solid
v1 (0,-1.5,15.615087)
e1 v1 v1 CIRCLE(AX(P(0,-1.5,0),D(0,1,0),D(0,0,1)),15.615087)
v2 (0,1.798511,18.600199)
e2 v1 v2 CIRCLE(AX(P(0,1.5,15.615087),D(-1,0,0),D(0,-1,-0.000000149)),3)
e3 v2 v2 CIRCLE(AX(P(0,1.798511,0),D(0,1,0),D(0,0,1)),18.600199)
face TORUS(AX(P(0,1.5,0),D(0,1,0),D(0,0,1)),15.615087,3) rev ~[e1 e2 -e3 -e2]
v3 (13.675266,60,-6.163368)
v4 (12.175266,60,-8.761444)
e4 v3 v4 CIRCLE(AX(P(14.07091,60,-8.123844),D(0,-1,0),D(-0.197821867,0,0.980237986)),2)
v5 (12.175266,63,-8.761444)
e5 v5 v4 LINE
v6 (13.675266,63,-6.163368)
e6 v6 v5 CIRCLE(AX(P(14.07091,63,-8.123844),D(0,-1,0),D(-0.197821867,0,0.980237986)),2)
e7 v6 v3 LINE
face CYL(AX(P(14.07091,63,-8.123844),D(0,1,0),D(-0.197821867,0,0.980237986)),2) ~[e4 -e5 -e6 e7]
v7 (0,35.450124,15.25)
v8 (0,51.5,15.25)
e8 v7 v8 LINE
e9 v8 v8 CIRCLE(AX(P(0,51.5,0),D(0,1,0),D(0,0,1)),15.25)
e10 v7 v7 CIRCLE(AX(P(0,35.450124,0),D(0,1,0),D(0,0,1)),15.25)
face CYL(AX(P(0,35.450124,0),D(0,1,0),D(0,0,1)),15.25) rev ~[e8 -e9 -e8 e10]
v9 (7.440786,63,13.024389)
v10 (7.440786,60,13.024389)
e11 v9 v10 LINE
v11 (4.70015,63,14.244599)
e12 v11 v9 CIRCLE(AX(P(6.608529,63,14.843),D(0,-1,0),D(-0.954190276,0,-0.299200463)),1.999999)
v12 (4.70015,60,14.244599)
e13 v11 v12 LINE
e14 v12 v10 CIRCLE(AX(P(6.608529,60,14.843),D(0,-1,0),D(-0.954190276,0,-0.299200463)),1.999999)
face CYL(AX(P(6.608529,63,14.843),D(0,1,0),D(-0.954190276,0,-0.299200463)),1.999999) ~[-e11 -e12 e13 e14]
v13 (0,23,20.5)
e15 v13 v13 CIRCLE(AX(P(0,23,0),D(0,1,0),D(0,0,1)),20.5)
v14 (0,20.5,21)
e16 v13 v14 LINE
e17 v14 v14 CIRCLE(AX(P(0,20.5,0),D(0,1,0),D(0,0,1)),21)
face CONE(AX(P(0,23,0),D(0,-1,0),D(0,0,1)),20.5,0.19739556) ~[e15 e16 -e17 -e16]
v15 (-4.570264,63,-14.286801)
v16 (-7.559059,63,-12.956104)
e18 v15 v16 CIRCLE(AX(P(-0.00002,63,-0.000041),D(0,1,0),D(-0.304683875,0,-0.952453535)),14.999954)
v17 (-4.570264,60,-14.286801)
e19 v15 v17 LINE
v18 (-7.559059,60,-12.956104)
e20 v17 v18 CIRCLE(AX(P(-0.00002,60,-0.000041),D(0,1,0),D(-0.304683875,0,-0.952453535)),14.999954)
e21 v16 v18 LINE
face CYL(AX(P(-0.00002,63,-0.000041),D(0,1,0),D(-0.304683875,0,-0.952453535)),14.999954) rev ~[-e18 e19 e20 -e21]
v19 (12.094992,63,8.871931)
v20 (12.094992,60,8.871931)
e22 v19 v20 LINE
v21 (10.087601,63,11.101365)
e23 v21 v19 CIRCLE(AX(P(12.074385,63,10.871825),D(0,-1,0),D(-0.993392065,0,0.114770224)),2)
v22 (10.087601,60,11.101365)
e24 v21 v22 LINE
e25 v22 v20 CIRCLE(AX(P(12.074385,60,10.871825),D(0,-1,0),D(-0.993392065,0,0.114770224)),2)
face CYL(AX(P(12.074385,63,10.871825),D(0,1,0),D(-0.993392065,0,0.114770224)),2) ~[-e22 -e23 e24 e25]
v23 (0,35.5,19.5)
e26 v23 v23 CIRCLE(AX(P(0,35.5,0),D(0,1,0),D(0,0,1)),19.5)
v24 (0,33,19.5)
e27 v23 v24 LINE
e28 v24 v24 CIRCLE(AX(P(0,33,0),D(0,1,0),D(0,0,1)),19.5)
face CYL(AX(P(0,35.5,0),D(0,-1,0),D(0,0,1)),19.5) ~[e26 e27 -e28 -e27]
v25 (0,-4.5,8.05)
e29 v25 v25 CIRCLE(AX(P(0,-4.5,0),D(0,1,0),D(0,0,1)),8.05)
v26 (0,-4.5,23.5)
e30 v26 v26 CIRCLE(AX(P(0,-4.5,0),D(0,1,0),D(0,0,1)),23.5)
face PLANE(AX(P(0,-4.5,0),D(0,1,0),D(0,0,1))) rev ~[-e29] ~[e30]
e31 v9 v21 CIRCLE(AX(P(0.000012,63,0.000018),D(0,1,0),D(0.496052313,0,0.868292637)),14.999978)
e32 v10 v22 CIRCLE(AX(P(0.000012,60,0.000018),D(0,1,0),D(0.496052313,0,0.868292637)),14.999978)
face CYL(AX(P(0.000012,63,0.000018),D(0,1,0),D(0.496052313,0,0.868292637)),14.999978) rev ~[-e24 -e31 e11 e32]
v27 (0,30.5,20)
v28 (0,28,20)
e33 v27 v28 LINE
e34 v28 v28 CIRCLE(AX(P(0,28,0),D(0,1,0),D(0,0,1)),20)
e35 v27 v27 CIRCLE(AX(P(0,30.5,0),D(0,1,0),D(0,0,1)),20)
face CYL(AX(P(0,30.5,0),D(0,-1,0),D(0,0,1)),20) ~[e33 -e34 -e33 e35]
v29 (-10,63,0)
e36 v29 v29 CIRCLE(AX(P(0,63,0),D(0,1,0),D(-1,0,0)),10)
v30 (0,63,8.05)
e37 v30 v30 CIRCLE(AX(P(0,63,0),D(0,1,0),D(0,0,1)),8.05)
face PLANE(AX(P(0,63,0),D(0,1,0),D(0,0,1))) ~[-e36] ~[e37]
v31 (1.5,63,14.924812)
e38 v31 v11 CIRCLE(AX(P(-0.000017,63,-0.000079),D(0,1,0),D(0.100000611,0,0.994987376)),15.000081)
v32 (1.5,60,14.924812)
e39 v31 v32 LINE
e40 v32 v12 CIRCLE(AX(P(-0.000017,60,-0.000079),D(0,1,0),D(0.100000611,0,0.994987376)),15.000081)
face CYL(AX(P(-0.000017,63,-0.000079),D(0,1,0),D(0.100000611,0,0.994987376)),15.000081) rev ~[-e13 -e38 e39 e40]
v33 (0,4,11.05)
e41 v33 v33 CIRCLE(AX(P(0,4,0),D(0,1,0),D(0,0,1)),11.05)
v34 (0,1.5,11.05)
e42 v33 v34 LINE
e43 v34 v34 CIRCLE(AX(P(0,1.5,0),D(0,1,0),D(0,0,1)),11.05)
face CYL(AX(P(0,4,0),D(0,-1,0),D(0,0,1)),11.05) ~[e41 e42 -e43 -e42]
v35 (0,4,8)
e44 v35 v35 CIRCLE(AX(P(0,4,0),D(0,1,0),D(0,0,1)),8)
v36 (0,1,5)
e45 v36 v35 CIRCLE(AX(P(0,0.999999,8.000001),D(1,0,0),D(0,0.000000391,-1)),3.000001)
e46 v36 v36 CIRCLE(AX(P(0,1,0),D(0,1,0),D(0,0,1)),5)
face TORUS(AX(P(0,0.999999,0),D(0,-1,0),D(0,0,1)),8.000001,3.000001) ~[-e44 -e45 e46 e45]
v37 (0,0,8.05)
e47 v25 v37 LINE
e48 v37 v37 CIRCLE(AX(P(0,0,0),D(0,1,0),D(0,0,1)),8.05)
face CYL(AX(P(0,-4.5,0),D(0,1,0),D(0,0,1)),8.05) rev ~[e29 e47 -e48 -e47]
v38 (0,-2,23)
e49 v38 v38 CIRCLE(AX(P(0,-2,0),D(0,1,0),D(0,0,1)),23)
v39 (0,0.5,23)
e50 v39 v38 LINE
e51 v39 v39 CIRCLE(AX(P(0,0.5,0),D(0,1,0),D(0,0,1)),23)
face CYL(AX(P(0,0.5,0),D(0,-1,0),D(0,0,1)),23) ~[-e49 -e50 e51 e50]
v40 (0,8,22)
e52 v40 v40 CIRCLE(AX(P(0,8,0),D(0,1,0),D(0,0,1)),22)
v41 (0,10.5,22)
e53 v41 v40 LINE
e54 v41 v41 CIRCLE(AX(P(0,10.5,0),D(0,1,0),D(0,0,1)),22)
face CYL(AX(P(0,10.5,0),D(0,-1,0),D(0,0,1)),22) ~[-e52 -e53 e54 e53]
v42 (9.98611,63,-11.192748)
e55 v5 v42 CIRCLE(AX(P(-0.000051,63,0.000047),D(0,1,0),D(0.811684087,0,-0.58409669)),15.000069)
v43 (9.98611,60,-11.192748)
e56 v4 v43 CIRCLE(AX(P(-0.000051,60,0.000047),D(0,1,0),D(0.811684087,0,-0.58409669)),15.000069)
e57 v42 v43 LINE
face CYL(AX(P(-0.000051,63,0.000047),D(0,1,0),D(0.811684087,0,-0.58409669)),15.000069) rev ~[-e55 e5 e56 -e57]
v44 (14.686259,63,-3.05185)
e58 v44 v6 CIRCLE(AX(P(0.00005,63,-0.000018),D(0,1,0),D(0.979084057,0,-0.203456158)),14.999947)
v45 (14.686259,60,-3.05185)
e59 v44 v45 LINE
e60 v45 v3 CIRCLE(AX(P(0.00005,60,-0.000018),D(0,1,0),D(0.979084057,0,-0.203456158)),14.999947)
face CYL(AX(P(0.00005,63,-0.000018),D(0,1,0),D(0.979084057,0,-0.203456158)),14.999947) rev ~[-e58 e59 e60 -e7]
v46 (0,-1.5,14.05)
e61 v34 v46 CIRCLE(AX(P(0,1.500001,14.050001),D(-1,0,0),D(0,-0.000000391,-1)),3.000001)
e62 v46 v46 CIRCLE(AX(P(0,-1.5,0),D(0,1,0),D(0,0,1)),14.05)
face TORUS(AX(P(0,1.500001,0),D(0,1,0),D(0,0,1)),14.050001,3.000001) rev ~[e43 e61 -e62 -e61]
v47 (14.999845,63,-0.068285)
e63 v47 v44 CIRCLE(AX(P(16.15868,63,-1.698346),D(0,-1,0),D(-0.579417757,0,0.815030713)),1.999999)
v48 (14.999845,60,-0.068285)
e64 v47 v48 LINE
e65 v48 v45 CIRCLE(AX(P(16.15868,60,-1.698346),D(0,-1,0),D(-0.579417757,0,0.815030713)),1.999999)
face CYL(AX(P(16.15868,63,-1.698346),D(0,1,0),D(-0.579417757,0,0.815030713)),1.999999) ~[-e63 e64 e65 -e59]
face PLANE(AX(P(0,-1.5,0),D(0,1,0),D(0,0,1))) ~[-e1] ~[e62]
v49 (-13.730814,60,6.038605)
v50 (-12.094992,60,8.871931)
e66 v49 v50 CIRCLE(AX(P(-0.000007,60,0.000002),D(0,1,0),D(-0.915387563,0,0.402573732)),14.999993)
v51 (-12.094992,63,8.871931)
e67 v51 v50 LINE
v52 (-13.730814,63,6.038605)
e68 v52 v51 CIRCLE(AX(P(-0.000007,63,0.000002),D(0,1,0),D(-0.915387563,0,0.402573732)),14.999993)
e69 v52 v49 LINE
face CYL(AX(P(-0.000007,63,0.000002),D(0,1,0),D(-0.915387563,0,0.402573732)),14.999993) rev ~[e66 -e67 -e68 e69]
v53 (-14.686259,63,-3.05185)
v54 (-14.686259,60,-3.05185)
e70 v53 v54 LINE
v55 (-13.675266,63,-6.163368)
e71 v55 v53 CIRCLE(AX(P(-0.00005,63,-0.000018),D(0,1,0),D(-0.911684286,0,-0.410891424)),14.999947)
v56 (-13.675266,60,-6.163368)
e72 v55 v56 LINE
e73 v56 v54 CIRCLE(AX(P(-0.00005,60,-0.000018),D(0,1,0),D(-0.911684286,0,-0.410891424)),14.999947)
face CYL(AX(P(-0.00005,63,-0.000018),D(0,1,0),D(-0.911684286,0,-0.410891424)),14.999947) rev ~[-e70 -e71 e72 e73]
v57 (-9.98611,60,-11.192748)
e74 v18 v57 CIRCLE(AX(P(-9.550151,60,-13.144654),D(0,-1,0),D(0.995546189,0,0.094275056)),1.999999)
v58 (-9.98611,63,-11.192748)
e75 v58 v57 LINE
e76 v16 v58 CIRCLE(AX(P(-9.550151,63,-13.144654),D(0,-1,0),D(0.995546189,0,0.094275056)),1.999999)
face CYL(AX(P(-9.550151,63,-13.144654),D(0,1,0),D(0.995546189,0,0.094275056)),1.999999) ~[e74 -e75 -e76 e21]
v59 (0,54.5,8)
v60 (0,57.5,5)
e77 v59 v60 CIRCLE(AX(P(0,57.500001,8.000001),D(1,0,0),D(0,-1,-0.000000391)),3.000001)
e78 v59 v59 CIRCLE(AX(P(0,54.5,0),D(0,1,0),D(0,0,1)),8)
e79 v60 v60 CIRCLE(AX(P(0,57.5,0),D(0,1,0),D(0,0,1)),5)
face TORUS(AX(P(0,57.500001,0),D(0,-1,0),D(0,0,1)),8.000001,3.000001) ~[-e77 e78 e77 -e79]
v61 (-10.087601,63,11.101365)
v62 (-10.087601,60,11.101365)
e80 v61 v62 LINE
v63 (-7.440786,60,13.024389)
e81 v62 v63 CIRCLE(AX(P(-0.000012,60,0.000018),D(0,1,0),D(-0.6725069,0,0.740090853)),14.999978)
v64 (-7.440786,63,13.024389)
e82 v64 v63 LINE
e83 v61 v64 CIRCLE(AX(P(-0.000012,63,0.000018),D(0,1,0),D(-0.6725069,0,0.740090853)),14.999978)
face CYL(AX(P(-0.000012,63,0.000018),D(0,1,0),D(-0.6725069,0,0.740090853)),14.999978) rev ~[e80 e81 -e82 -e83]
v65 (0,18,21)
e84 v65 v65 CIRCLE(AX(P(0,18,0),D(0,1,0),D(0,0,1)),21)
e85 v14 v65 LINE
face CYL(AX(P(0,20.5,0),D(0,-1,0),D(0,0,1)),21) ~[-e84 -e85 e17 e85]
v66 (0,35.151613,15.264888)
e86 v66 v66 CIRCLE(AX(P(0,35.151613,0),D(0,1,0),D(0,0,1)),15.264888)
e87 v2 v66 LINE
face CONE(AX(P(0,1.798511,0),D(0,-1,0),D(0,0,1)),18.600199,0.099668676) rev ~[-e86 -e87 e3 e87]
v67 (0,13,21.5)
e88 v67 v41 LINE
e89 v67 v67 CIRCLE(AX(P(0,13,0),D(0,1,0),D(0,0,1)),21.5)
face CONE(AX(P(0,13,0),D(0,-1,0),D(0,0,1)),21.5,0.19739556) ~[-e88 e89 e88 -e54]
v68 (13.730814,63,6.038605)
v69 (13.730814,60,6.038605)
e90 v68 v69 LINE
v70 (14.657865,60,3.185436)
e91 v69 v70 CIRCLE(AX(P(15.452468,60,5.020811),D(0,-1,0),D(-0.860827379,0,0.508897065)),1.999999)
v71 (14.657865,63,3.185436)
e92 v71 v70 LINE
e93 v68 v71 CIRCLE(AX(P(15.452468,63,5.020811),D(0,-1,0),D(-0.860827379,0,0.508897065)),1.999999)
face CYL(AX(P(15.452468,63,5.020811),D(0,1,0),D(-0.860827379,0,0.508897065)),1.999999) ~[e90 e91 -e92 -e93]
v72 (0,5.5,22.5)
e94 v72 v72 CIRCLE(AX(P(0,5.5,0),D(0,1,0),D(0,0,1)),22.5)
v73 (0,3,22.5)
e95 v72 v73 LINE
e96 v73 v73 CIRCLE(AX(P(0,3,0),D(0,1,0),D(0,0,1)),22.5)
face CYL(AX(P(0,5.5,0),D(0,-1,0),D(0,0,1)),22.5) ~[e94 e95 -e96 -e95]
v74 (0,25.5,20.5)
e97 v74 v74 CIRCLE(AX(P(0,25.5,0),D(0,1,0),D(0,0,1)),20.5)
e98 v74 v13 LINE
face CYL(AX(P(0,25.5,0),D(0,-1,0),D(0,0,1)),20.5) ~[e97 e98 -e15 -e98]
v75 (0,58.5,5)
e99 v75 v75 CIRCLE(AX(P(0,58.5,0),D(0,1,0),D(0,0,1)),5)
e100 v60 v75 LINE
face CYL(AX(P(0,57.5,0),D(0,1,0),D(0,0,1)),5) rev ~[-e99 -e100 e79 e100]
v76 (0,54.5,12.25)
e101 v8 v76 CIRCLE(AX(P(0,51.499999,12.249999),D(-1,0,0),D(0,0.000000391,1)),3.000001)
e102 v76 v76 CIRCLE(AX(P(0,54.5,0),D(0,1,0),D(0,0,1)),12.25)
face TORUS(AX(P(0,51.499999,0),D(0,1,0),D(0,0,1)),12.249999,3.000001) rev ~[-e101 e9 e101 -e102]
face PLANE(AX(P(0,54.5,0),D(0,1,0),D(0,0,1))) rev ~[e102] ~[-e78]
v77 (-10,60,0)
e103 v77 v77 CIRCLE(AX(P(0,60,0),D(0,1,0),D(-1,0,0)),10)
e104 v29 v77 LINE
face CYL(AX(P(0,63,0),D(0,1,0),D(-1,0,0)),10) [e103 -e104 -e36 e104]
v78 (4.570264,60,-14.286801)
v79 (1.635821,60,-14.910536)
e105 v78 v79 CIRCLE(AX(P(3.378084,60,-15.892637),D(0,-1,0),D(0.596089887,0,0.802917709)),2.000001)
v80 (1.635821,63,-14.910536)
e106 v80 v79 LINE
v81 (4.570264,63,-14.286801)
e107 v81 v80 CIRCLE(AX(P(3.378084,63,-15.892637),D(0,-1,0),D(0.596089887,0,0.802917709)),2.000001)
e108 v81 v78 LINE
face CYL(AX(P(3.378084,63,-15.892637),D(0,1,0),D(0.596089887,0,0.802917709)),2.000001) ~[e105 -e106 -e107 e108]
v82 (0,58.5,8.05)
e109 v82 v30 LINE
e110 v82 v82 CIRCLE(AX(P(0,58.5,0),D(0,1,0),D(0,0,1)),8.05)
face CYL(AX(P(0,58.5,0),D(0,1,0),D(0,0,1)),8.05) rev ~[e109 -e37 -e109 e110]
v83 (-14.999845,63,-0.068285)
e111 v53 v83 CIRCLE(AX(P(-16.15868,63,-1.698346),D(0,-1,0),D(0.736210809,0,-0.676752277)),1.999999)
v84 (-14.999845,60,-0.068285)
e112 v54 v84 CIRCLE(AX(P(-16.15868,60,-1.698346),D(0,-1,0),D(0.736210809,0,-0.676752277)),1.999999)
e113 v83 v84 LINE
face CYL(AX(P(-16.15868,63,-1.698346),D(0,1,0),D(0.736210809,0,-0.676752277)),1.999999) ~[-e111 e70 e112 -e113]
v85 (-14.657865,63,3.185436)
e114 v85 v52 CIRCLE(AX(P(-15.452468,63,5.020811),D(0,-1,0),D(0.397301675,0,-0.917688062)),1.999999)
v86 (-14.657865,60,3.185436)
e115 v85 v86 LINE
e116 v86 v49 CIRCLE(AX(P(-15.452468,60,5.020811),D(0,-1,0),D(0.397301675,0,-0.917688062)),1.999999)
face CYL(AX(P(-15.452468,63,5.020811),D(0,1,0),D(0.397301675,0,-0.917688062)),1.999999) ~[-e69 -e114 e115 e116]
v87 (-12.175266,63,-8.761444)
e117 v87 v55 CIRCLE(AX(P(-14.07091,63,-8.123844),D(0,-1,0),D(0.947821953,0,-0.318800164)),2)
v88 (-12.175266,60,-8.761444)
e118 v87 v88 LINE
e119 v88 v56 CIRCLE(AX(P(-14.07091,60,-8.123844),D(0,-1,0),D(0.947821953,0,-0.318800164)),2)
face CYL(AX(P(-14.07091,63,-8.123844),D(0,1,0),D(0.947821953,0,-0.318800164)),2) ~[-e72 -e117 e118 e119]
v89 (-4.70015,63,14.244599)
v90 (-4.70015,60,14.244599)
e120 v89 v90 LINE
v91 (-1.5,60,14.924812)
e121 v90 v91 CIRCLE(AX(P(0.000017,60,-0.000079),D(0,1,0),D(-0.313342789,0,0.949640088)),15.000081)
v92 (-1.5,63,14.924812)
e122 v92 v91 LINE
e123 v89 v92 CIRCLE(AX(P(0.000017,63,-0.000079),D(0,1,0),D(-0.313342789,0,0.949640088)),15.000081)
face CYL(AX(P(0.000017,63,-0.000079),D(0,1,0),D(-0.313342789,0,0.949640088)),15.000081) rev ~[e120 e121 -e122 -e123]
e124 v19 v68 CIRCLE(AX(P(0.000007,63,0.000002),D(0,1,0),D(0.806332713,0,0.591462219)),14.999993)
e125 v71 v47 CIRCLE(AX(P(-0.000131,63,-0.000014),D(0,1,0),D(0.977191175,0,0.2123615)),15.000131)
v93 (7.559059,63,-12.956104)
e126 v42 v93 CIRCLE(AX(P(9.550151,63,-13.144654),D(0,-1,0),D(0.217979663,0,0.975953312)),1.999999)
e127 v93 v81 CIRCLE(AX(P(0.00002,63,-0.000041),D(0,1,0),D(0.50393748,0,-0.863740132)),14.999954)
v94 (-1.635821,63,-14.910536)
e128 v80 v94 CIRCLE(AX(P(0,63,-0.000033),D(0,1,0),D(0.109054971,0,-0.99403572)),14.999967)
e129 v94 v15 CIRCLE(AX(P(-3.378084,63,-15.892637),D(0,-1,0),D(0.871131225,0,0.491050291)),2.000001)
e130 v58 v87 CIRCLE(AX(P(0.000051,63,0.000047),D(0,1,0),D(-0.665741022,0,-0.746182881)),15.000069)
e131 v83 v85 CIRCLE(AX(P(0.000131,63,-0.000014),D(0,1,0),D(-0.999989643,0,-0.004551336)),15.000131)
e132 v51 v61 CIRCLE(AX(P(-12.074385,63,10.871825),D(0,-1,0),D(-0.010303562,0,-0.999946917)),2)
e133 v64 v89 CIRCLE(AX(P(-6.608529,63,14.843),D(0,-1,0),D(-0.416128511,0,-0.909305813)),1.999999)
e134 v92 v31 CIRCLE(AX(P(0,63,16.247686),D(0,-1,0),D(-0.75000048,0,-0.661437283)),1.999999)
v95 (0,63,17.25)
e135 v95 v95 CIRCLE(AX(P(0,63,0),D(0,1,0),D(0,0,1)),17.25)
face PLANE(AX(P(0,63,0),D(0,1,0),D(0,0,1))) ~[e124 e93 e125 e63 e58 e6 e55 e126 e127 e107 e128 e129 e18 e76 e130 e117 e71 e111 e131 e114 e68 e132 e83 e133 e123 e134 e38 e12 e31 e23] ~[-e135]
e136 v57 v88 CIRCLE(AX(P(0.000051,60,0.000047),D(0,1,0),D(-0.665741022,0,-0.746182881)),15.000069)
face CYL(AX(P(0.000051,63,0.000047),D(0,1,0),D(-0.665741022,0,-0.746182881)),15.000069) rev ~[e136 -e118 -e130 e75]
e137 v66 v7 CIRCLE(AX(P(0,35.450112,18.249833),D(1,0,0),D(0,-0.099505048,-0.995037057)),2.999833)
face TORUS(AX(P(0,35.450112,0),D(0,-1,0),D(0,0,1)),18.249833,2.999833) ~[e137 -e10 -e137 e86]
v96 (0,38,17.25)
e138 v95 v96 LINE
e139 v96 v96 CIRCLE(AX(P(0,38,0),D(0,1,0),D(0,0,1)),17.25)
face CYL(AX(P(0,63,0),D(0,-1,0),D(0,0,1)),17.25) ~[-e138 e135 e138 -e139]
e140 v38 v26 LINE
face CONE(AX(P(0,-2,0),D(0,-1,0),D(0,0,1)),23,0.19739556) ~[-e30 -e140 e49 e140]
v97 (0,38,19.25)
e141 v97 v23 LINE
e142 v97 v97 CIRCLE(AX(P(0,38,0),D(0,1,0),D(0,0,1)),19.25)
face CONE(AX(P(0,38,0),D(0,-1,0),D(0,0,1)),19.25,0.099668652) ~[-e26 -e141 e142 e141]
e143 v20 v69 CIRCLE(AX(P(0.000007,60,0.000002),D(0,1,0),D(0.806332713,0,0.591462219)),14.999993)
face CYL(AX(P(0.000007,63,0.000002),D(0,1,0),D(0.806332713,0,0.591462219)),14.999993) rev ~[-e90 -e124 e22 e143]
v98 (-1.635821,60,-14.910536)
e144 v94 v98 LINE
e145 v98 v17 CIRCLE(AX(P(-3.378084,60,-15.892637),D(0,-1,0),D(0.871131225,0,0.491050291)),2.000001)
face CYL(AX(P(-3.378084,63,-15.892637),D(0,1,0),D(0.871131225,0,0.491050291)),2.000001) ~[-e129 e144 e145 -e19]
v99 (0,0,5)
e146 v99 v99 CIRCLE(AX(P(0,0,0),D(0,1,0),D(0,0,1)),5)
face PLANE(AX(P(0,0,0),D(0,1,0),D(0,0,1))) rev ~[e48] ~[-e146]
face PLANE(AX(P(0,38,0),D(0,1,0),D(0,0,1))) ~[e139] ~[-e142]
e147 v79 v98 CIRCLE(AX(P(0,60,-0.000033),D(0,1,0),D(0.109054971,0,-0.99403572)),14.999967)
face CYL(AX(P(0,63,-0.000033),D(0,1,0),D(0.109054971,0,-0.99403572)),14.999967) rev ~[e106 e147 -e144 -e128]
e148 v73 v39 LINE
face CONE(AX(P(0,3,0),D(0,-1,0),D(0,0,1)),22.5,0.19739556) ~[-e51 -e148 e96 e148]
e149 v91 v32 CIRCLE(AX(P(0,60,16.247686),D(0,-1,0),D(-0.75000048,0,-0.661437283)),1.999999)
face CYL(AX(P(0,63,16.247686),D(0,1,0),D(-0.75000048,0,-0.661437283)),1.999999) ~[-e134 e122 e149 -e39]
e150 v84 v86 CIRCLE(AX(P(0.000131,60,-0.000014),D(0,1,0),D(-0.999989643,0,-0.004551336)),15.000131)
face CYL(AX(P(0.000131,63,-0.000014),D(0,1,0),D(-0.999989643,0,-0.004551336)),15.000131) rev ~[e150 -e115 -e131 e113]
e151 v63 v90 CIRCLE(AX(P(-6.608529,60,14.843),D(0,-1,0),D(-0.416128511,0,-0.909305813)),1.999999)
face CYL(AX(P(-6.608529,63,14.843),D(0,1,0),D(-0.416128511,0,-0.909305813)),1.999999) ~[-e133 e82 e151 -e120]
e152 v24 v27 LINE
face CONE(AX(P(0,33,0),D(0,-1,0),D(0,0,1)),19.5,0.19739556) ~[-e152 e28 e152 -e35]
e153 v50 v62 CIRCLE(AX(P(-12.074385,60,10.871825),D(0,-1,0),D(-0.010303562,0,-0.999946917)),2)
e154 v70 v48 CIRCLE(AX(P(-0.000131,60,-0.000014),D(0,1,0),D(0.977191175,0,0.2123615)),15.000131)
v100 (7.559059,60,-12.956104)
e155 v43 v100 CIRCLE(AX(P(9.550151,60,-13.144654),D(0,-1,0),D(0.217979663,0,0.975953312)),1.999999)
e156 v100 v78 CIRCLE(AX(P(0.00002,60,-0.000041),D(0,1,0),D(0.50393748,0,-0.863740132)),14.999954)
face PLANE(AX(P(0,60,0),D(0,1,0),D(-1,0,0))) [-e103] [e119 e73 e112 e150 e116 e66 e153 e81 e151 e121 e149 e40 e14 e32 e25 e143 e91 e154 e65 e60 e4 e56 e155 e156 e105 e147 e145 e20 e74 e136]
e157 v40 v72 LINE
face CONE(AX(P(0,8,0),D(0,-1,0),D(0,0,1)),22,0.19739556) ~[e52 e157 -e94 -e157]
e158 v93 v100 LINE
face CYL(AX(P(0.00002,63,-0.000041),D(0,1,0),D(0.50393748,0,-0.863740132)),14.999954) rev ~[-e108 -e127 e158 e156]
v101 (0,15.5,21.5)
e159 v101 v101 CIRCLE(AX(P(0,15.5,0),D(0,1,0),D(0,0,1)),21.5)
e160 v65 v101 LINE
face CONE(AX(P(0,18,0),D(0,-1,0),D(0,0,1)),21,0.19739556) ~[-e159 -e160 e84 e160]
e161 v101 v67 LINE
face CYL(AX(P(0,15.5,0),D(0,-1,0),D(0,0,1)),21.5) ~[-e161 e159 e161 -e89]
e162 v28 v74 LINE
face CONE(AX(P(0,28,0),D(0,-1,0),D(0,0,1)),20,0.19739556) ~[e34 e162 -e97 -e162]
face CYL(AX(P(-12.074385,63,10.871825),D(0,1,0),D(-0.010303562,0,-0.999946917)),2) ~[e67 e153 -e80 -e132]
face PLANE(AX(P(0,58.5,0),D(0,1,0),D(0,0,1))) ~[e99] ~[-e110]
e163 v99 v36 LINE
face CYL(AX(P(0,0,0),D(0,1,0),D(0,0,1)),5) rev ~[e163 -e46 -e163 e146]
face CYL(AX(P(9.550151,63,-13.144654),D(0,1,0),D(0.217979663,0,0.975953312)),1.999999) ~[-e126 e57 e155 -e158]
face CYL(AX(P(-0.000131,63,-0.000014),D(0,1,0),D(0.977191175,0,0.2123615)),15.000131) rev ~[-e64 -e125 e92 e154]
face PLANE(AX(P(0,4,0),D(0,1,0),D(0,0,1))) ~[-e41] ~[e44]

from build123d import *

# Parameters (mm, degrees)
F2_R     = 10
F3_DEPTH = 3


with BuildPart() as f1:
    # F0 (on Right) → F1 (revolve)
    with BuildSketch(Plane.YZ):
        with BuildLine():
            Line((0, 8.05), (0, 5))
            Line((0, 5), (1, 5))
            ThreePointArc((1, 5), (3.12132, 5.87868), (4, 8))
            Line((4, 8), (4, 11.05))
            Line((4, 11.05), (1.5, 11.05))
            ThreePointArc((1.5, 11.05), (-0.62132, 11.92868), (-1.5, 14.05))
            Line((-1.5, 14.05), (-1.5, 15.615087))
            ThreePointArc((-1.5, 15.615087), (-0.513016, 17.839445), (1.798511, 18.600199))
            Line((1.798511, 18.600199), (35.151613, 15.264888))
            ThreePointArc((35.151613, 15.264888), (35.300683, 15.253724), (35.450124, 15.25))
            Line((35.450124, 15.25), (51.5, 15.25))
            ThreePointArc((51.5, 15.25), (53.62132, 14.37132), (54.5, 12.25))
            Line((54.5, 12.25), (54.5, 8))
            ThreePointArc((54.5, 8), (55.37868, 5.87868), (57.5, 5))
            Line((57.5, 5), (58.5, 5))
            Line((58.5, 5), (58.5, 8.05))
            Line((58.5, 8.05), (63, 8.05))
            Line((63, 8.05), (63, 17.25))
            Line((63, 17.25), (38, 17.25))
            Line((38, 17.25), (38, 19.25))
            Line((38, 19.25), (35.5, 19.5))
            Line((35.5, 19.5), (33, 19.5))
            Line((33, 19.5), (30.5, 20))
            Line((30.5, 20), (28, 20))
            Line((28, 20), (25.5, 20.5))
            Line((25.5, 20.5), (23, 20.5))
            Line((23, 20.5), (20.5, 21))
            Line((20.5, 21), (18, 21))
            Line((18, 21), (15.5, 21.5))
            Line((15.5, 21.5), (13, 21.5))
            Line((13, 21.5), (10.5, 22))
            Line((10.5, 22), (8, 22))
            Line((8, 22), (5.5, 22.5))
            Line((5.5, 22.5), (3, 22.5))
            Line((3, 22.5), (0.5, 23))
            Line((0.5, 23), (-2, 23))
            Line((-2, 23), (-4.5, 23.5))
            Line((-4.5, 23.5), (-4.5, 8.05))
            Line((-4.5, 8.05), (0, 8.05))
        make_face()
    revolve(axis=Axis((0, 24.89554, 0), (0, 1, 0)))

    # F2 (on face) → F3 (cut)
    with BuildSketch(Plane(origin=(0, 63, 0), x_dir=(-1, 0, 0), z_dir=(0, 1, 0))):
        with BuildLine():
            ThreePointArc((1.5, 14.924812), (0, 14.247687), (-1.5, 14.924812))
            ThreePointArc((-1.5, 14.924812), (-3.118675, 14.672214), (-4.70015, 14.244599))
            ThreePointArc((-4.70015, 14.244599), (-5.795056, 13.01591), (-7.440786, 13.024389))
            ThreePointArc((-7.440786, 13.024389), (-8.816779, 12.135255), (-10.087601, 11.101365))
            ThreePointArc((-10.087601, 11.101365), (-10.588095, 9.533564), (-12.094992, 8.871931))
            ThreePointArc((-12.094992, 8.871931), (-12.990381, 7.5), (-13.730814, 6.038605))
            ThreePointArc((-13.730814, 6.038605), (-13.550356, 4.402777), (-14.657865, 3.185436))
            ThreePointArc((-14.657865, 3.185436), (-14.917828, 1.567927), (-14.999845, -0.068285))
            ThreePointArc((-14.999845, -0.068285), (-14.169637, -1.489289), (-14.686259, -3.05185))
            ThreePointArc((-14.686259, -3.05185), (-14.265848, -4.635255), (-13.675266, -6.163368))
            ThreePointArc((-13.675266, -6.163368), (-12.338859, -7.123844), (-12.175266, -8.761444))
            ThreePointArc((-12.175266, -8.761444), (-11.147172, -10.036959), (-9.98611, -11.192748))
            ThreePointArc((-9.98611, -11.192748), (-8.37458, -11.526621), (-7.559059, -12.956104))
            ThreePointArc((-7.559059, -12.956104), (-6.10105, -13.703182), (-4.570264, -14.286801))
            ThreePointArc((-4.570264, -14.286801), (-2.962261, -13.936341), (-1.635821, -14.910536))
            ThreePointArc((-1.635821, -14.910536), (0, -15), (1.635821, -14.910536))
            ThreePointArc((1.635821, -14.910536), (2.962261, -13.936341), (4.570264, -14.286801))
            ThreePointArc((4.570264, -14.286801), (6.10105, -13.703182), (7.559059, -12.956104))
            ThreePointArc((7.559059, -12.956104), (8.37458, -11.526621), (9.98611, -11.192748))
            ThreePointArc((9.98611, -11.192748), (11.147172, -10.036959), (12.175266, -8.761444))
            ThreePointArc((12.175266, -8.761444), (12.338859, -7.123844), (13.675266, -6.163368))
            ThreePointArc((13.675266, -6.163368), (14.265848, -4.635255), (14.686259, -3.05185))
            ThreePointArc((14.686259, -3.05185), (14.169637, -1.489289), (14.999845, -0.068285))
            ThreePointArc((14.999845, -0.068285), (14.917828, 1.567927), (14.657865, 3.185436))
            ThreePointArc((14.657865, 3.185436), (13.550356, 4.402777), (13.730814, 6.038605))
            ThreePointArc((13.730814, 6.038605), (12.990381, 7.5), (12.094992, 8.871931))
            ThreePointArc((12.094992, 8.871931), (10.588095, 9.533564), (10.087601, 11.101365))
            ThreePointArc((10.087601, 11.101365), (8.816779, 12.135255), (7.440786, 13.024389))
            ThreePointArc((7.440786, 13.024389), (5.795056, 13.01591), (4.70015, 14.244599))
            ThreePointArc((4.70015, 14.244599), (3.118675, 14.672214), (1.5, 14.924812))
        make_face()
        Circle(F2_R, mode=Mode.SUBTRACT)
    extrude(amount=-F3_DEPTH, mode=Mode.SUBTRACT)


solid = f1.part
